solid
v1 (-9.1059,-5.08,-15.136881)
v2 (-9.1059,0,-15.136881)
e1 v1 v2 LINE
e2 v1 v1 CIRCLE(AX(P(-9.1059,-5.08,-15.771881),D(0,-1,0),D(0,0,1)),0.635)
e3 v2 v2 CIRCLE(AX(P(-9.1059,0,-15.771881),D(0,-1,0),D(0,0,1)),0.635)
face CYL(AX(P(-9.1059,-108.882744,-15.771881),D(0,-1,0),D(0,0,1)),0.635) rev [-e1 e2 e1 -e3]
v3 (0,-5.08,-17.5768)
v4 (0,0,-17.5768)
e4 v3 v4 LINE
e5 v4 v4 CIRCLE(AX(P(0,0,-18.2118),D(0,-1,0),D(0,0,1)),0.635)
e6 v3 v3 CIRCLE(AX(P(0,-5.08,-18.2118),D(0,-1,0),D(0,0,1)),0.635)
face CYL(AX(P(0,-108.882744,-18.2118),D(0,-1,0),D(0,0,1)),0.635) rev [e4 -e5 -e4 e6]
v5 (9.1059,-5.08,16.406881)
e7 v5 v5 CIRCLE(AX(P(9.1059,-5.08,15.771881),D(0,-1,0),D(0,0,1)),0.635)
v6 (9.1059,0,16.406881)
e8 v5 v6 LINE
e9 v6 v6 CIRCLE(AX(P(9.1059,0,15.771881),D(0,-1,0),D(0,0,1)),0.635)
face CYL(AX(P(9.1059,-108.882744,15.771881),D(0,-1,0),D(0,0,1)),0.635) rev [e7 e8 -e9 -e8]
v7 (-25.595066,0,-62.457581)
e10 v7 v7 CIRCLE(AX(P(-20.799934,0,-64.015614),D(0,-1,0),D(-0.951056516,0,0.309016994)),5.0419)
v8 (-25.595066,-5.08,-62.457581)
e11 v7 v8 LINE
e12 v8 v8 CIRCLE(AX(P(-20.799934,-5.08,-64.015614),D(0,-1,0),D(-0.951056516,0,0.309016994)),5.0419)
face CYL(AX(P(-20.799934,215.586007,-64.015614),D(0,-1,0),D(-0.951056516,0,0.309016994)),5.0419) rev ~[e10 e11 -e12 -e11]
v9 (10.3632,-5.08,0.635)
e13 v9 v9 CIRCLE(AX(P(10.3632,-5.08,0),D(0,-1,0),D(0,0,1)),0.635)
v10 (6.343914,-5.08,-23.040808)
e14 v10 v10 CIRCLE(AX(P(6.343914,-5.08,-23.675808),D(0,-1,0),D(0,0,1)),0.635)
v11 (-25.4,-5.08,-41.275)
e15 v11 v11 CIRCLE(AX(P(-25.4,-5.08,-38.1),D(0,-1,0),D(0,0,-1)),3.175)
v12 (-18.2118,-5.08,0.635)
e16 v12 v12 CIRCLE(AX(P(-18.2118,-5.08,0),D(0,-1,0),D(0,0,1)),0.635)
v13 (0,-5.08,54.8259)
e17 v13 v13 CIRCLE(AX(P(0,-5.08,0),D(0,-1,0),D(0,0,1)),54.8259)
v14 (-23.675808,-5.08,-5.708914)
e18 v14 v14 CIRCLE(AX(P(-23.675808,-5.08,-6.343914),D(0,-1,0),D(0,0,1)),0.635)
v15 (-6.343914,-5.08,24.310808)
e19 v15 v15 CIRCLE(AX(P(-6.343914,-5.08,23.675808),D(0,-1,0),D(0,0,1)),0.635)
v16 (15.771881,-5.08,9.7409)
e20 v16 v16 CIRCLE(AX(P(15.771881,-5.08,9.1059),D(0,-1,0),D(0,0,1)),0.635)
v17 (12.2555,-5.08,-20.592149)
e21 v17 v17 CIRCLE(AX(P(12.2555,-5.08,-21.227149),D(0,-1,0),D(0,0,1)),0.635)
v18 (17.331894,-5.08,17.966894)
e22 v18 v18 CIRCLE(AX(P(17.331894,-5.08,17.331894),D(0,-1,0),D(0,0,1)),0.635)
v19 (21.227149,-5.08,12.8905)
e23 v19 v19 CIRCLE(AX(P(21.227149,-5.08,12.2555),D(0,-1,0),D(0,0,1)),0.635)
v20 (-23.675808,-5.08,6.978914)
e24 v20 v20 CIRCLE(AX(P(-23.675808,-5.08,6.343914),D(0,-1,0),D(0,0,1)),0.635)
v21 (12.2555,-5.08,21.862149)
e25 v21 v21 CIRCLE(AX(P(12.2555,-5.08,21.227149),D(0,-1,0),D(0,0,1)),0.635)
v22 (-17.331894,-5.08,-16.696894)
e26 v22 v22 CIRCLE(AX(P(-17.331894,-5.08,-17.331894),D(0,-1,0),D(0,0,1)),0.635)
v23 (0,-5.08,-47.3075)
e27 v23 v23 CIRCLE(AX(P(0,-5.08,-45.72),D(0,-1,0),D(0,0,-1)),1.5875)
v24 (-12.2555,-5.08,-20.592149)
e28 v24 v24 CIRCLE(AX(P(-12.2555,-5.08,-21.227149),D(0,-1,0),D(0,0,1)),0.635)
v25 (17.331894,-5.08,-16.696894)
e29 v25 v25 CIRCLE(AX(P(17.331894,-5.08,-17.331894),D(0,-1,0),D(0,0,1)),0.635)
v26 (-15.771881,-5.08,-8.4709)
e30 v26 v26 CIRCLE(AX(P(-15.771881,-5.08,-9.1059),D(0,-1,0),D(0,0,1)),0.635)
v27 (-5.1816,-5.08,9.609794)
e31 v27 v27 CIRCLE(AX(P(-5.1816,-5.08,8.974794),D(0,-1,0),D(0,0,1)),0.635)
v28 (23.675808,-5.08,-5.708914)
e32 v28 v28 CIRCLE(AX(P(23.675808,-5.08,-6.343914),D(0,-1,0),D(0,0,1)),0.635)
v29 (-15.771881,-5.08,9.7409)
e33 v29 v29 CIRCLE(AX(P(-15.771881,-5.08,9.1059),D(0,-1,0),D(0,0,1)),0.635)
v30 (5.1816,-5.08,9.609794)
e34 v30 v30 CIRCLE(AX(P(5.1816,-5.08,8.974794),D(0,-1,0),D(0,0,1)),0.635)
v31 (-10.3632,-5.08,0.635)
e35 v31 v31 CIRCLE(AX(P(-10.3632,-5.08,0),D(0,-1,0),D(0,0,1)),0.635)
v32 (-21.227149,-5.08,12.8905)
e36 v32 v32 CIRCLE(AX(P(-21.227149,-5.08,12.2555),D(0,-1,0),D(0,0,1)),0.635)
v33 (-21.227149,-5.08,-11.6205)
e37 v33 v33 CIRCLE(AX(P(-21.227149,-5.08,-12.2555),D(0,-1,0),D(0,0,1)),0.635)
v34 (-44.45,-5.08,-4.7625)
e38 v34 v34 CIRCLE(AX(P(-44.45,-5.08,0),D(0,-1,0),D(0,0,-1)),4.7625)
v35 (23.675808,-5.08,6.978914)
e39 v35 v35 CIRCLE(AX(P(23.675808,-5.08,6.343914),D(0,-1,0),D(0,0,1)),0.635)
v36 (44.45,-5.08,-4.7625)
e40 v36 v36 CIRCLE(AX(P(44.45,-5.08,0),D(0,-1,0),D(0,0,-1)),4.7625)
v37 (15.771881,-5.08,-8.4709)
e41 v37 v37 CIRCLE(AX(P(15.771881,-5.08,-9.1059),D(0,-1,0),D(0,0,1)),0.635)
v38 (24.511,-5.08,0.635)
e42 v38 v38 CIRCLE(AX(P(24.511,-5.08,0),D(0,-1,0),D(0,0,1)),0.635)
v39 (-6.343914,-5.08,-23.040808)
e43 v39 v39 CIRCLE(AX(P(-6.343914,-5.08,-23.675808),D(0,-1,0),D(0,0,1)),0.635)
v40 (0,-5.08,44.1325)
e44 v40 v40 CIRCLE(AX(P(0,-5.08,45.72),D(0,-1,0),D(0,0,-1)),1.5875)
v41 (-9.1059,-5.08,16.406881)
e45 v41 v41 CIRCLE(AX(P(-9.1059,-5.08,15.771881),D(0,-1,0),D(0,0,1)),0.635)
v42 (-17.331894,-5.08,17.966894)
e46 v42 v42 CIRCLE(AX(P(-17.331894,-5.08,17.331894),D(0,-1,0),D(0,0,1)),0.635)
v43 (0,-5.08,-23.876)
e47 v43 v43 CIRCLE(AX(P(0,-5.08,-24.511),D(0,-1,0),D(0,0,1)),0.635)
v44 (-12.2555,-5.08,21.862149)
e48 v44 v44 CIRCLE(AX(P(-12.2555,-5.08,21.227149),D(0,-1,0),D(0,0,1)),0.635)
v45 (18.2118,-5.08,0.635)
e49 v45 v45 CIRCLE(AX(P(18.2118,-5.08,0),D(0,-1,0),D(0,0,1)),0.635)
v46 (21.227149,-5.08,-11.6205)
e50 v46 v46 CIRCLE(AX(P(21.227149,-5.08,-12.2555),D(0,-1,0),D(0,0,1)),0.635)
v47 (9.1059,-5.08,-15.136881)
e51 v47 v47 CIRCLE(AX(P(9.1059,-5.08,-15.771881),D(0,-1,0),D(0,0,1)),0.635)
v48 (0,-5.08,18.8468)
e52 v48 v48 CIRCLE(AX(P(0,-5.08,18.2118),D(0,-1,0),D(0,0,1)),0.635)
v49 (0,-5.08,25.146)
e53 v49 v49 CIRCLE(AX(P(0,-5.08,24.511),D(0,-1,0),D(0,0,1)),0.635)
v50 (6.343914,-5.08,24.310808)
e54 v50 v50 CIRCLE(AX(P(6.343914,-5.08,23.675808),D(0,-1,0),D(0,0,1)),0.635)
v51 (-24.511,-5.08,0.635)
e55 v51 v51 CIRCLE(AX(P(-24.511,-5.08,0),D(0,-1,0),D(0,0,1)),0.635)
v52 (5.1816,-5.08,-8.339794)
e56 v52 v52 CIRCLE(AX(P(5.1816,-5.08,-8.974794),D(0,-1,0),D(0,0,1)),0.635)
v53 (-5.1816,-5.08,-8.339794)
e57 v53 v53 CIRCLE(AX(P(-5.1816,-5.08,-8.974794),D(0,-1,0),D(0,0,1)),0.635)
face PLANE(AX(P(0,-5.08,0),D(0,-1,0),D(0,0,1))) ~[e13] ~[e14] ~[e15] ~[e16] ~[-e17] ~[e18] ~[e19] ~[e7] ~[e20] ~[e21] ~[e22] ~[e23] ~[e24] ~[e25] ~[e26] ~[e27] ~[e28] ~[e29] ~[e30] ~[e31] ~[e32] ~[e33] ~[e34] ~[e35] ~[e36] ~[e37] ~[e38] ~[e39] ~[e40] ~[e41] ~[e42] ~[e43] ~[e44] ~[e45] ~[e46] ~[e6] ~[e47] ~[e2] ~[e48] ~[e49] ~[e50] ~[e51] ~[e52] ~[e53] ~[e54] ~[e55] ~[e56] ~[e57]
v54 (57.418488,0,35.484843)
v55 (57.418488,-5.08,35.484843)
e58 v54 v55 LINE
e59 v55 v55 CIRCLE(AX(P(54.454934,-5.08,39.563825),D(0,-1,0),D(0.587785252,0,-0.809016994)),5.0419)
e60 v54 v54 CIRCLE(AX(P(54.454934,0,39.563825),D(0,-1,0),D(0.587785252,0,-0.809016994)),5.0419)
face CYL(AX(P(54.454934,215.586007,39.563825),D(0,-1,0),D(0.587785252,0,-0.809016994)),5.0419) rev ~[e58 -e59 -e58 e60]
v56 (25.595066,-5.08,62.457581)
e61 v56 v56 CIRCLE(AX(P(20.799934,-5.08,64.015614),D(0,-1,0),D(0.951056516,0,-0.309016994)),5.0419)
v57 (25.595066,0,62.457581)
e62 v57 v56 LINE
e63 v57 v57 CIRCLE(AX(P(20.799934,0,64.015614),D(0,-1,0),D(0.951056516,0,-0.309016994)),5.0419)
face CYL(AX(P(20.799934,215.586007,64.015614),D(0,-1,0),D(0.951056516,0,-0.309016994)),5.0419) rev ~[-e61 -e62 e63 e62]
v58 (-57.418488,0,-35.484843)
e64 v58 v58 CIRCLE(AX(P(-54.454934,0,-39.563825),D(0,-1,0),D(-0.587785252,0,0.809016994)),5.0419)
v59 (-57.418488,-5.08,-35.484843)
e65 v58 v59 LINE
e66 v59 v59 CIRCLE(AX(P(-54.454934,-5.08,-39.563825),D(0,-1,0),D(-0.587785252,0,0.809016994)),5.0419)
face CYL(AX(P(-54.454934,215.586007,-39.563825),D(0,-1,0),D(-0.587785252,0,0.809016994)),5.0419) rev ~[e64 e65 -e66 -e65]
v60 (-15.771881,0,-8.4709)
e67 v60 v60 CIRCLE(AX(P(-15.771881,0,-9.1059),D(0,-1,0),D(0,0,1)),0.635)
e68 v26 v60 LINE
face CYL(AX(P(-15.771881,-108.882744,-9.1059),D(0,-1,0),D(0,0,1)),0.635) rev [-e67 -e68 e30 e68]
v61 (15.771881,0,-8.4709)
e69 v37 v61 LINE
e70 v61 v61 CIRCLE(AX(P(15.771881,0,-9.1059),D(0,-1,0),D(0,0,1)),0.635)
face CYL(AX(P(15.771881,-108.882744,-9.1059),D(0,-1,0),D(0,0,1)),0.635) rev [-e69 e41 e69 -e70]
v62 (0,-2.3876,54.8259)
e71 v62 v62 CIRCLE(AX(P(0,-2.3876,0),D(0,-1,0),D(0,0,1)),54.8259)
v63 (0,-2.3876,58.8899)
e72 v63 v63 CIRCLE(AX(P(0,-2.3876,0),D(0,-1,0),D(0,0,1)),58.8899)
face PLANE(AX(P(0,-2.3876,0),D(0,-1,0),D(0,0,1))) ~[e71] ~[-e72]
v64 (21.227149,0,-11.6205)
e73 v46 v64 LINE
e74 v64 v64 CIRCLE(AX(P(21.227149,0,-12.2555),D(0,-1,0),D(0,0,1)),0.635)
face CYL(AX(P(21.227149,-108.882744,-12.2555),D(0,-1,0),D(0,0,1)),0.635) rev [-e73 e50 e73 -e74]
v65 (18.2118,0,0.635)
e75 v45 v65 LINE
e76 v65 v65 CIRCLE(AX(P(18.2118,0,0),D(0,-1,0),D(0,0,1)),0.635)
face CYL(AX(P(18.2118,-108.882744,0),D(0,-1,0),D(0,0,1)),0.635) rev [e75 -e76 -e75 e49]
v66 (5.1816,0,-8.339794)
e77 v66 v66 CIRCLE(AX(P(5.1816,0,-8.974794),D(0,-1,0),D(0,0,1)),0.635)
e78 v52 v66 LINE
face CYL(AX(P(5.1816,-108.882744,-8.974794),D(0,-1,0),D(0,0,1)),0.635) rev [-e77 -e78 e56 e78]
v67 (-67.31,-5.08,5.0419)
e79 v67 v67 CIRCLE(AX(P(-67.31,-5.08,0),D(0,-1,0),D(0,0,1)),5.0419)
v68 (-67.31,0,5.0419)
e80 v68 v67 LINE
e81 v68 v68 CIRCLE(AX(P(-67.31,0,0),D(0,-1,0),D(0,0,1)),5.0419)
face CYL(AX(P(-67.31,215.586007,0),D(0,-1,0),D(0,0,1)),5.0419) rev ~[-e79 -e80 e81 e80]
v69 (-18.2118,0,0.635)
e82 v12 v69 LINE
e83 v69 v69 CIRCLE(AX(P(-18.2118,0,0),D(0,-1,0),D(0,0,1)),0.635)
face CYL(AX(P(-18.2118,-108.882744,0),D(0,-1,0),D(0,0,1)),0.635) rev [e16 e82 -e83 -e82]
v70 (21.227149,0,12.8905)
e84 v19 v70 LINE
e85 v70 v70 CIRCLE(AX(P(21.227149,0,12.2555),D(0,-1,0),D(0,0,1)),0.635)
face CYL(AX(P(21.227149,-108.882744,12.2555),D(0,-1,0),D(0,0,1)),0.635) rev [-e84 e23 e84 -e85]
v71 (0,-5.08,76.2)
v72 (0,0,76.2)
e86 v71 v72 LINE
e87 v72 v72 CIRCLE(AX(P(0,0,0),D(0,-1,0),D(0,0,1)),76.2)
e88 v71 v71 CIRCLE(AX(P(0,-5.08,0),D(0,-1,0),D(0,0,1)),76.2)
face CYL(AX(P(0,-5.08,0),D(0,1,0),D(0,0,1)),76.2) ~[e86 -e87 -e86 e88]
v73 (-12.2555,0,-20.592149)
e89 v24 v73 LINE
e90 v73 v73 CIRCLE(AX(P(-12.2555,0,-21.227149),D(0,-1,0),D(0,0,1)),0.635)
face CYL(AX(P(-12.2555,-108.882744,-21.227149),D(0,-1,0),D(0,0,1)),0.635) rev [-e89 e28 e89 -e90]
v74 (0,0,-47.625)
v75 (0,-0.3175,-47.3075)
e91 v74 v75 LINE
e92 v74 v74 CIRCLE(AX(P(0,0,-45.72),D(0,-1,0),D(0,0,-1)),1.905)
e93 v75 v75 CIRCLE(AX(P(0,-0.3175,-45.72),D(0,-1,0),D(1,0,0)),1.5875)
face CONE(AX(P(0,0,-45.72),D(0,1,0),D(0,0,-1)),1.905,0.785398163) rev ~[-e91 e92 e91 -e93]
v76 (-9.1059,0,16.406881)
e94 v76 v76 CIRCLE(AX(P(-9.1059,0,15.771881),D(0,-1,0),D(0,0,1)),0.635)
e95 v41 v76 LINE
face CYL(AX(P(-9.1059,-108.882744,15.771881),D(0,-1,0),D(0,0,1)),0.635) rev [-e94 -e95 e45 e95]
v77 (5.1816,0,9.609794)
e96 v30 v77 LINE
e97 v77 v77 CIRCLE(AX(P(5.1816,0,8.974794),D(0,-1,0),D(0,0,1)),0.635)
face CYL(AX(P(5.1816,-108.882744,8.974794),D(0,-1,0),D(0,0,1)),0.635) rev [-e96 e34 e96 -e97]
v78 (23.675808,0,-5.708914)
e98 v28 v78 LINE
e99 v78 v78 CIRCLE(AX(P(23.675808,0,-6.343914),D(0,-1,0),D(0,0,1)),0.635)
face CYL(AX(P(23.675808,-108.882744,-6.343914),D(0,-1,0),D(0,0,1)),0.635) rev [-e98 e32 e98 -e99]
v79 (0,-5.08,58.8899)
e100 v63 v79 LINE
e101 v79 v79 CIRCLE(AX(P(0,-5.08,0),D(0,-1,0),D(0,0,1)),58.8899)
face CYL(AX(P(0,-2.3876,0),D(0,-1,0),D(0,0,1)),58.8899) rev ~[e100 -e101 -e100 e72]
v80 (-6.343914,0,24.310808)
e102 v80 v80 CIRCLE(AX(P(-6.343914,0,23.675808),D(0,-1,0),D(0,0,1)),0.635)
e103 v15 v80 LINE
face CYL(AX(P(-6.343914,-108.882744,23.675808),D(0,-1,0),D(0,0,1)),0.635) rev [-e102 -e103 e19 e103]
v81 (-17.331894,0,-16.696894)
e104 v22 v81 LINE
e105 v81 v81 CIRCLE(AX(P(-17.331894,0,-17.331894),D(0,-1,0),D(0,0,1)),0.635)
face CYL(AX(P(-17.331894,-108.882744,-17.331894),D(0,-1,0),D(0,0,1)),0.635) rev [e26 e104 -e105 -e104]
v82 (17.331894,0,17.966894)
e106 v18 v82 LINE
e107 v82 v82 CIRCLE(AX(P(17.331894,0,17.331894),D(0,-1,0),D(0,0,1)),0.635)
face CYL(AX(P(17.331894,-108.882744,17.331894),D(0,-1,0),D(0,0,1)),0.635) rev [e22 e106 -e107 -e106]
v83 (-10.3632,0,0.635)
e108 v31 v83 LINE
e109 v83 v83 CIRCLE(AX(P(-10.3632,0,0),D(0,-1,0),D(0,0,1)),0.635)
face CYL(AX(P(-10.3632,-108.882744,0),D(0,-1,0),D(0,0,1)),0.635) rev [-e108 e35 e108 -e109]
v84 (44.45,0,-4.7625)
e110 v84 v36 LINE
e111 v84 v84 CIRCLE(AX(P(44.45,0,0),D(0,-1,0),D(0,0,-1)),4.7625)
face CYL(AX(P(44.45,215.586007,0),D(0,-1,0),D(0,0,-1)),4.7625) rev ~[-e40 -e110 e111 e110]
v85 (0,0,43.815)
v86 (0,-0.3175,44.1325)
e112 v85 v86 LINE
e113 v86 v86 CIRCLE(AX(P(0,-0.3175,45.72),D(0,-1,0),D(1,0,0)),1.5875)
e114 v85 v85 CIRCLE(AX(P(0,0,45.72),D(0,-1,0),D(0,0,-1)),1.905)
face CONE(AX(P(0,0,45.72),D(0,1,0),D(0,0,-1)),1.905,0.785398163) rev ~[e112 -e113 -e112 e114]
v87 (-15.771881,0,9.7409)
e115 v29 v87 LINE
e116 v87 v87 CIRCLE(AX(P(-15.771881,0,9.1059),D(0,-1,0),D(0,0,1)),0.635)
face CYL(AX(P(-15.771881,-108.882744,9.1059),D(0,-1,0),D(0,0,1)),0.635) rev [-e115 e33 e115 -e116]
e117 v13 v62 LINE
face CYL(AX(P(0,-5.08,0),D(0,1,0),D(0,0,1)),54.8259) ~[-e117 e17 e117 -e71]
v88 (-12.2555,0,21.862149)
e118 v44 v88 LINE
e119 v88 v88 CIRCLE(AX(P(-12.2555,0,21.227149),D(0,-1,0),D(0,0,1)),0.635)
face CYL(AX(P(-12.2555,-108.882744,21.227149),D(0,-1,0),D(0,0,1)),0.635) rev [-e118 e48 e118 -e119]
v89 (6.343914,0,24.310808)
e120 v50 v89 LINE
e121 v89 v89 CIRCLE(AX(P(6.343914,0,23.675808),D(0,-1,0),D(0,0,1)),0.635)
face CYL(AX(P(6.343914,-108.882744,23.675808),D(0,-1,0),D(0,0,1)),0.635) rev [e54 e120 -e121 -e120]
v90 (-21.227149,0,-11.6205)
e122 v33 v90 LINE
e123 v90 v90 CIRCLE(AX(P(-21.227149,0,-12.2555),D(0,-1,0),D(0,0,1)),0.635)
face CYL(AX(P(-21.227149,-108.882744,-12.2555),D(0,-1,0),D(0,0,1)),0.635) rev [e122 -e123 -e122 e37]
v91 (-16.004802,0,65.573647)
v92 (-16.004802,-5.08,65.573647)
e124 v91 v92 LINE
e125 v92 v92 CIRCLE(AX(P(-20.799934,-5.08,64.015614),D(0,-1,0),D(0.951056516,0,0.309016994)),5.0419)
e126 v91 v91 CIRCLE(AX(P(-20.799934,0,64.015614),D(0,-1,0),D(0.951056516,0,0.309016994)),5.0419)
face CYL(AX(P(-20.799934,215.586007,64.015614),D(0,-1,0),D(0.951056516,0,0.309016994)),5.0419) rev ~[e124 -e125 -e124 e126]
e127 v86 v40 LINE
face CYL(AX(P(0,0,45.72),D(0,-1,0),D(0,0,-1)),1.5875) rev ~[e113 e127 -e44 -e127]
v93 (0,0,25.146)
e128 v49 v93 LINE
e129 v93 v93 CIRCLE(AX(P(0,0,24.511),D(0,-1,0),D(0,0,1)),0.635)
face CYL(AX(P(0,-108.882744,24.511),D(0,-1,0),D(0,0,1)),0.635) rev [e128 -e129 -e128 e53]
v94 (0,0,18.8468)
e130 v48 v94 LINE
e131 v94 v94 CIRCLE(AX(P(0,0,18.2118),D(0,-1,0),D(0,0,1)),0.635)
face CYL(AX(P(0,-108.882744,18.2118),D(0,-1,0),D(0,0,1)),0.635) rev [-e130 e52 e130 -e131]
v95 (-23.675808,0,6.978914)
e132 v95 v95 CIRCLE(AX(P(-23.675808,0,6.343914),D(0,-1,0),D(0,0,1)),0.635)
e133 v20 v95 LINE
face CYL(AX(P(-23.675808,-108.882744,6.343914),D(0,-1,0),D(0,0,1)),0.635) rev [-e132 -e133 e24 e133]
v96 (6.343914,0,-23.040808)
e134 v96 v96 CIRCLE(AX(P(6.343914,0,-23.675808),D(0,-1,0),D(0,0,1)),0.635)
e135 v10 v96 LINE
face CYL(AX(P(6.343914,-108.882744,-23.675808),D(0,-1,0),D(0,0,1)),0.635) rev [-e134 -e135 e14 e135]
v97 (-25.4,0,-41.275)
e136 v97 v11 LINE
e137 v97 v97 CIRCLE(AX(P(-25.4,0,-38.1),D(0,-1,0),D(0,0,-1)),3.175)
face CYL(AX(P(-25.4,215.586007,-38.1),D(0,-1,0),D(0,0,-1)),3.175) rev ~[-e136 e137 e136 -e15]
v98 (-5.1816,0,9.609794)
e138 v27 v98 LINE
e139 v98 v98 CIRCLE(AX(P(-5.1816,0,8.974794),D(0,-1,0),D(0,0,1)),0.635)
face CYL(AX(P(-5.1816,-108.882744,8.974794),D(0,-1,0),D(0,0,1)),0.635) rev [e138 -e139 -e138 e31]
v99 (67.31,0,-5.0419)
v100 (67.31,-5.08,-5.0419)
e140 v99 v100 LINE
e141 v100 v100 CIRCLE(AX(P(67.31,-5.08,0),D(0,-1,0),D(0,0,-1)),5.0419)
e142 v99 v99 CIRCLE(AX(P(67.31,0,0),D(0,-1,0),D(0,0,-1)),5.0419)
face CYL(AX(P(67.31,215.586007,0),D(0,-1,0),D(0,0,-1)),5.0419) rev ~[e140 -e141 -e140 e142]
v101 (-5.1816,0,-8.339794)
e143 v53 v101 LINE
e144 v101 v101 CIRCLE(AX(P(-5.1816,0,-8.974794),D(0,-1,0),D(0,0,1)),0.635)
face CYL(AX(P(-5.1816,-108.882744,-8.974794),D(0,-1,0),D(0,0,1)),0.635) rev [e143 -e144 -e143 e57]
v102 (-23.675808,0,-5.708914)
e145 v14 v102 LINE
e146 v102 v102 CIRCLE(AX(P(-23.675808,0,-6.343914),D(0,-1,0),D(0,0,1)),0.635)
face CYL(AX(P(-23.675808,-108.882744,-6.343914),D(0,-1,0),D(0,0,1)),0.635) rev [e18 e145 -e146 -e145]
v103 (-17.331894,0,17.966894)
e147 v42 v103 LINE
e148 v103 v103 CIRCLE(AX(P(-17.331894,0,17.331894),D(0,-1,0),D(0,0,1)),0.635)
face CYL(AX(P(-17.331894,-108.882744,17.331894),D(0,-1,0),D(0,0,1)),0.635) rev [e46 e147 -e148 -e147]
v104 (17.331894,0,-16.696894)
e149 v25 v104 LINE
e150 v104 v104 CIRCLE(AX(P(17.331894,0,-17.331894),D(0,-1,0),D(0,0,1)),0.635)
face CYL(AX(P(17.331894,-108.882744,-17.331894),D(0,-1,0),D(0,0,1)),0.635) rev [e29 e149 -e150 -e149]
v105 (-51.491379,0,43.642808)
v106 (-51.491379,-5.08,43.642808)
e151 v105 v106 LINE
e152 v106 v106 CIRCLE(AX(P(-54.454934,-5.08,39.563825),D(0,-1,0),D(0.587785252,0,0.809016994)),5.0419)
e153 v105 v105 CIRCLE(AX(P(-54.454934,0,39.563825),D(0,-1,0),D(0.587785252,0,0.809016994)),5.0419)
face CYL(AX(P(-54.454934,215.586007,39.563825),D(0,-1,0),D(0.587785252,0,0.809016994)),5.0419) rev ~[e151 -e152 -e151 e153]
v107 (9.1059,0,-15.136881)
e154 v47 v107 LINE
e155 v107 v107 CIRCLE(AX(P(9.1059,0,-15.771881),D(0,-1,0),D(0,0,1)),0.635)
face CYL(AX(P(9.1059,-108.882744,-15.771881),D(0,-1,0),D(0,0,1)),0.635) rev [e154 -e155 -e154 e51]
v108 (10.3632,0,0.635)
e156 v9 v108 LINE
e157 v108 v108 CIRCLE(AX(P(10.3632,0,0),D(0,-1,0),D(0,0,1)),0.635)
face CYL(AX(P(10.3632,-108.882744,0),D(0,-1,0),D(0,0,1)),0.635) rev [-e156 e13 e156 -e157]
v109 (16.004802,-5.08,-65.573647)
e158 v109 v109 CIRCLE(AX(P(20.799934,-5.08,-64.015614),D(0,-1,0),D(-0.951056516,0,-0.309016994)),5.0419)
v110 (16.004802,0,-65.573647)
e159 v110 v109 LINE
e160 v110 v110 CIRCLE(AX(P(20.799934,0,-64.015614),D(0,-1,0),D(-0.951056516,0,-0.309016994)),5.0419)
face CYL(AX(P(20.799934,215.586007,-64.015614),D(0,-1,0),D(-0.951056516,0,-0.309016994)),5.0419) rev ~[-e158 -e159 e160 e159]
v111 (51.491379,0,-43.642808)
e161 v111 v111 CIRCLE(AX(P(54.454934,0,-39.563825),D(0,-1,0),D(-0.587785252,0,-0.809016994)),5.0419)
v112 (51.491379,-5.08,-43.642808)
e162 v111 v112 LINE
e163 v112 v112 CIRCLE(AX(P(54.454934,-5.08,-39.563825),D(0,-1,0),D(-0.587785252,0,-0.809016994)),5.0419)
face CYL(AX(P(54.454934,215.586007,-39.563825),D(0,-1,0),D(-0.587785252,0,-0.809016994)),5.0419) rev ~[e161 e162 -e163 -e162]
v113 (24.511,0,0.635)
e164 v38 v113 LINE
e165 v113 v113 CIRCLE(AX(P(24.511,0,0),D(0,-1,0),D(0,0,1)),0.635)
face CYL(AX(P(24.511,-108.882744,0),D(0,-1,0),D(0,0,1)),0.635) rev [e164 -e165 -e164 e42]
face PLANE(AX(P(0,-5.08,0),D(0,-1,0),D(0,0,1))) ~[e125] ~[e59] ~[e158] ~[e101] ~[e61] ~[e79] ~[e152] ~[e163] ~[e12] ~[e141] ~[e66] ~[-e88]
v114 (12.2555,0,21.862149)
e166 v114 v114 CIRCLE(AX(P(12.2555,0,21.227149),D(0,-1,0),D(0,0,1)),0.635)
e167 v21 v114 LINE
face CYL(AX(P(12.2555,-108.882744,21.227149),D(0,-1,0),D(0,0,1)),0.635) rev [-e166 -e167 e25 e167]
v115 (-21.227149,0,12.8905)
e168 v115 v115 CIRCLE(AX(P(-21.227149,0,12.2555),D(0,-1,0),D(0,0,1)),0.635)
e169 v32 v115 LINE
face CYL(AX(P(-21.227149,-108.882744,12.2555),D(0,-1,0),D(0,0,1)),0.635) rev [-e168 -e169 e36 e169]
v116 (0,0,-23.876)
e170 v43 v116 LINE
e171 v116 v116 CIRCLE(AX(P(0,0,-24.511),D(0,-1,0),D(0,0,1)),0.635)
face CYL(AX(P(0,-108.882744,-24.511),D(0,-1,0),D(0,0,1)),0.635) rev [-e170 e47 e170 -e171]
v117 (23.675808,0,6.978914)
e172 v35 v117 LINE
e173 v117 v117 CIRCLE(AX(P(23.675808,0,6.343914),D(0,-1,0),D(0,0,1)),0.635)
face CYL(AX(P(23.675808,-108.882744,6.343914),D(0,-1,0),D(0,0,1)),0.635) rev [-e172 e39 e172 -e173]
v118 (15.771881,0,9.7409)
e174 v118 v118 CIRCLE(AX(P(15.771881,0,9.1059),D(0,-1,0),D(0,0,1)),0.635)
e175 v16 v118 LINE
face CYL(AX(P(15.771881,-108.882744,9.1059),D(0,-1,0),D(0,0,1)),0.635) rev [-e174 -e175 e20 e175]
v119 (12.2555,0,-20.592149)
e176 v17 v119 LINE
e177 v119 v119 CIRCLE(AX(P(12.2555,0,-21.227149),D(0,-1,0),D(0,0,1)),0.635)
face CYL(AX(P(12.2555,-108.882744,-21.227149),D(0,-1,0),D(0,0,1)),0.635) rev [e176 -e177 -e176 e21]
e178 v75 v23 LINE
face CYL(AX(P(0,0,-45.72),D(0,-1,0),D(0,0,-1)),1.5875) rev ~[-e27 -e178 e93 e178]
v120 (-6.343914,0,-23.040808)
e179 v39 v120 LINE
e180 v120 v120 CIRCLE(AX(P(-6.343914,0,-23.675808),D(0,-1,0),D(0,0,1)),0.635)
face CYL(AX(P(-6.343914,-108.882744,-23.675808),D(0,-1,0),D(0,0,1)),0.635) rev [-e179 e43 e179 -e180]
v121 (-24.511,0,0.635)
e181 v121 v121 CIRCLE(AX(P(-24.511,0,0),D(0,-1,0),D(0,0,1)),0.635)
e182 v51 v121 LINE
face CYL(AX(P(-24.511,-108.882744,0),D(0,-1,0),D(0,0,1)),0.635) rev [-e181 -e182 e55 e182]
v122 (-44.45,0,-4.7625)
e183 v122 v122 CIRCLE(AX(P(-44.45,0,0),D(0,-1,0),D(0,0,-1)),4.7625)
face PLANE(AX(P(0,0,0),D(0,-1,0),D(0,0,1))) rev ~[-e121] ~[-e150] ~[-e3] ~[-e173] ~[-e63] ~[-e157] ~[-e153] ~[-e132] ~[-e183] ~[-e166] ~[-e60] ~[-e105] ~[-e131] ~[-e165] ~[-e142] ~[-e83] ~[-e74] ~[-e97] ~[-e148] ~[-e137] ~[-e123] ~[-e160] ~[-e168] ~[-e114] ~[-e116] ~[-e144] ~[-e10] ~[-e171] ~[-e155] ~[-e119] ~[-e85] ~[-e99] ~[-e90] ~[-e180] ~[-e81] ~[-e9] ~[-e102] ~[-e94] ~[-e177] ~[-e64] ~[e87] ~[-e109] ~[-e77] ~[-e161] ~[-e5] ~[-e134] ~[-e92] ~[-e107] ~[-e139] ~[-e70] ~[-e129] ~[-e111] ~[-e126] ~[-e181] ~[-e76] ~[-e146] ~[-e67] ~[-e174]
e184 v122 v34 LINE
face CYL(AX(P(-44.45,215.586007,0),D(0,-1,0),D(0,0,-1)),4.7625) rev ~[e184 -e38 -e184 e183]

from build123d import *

# Parameters (mm, degrees)
F_3_8_CLEARANCE_HOLE1_D                = 10.0838
CIRPATTERN1_COUNT                      = 10
F_3_8_0_375_DIAMETER_HOLE1_D           = 9.525
F_1_4_0_25_DIAMETER_HOLE1_D            = 6.35
CUT_EXTRUDE1_DEPTH                     = 108.882743755
CUT_EXTRUDE1_DEPTH_BACK                = 108.882743755
SKETCH7_R                              = 0.635
F_1_8_0_125_DIAMETER_HOLE1_D           = 3.175
F_1_8_0_125_DIAMETER_HOLE1_CSINK_D     = 3.81
F_1_8_0_125_DIAMETER_HOLE1_CSINK_ANGLE = 90


with BuildPart() as part:
    # Sketch1 → Revolve1 (revolve)
    with BuildSketch(Plane.XY, mode=Mode.PRIVATE) as revolve1_sk:
        Polygon((0, 0), (0, -5.08), (54.8259, -5.08), (54.8259, -2.3876), (58.8899, -2.3876), (58.8899, -5.08), (76.2, -5.08), (76.2, 0), align=None)
    revolve(revolve1_sk.sketch.rotate(Axis((0, 0, 0), (0, -1, 0)), 90), axis=Axis((0, 0, 0), (0, -1, 0)))

    # 3/8 Clearance Hole1 (through all)
    with Locations(Plane(origin=(67.31, 0, 0), x_dir=(0, 0, 1), z_dir=(0, 1, 0))):
        with Locations((0, 0)):
            f_3_8_clearance_hole1 = Hole(F_3_8_CLEARANCE_HOLE1_D / 2)

    # CirPattern1: 3/8 Clearance Hole1 ×10 about axis
    cirpattern1_axis = Axis((0, 0, 0), (0, 1, 0))
    for i in range(1, CIRPATTERN1_COUNT):
        add(f_3_8_clearance_hole1.rotate(cirpattern1_axis, i * 360 / CIRPATTERN1_COUNT), mode=Mode.SUBTRACT)

    # 3/8 (0.375) Diameter Hole1 (through all)
    with Locations(Plane(origin=(44.45, 0, 0), x_dir=(0, 0, 1), z_dir=(0, 1, 0))):
        with Locations((0, 0), (0, -88.9)):
            Hole(F_3_8_0_375_DIAMETER_HOLE1_D / 2)

    # 1/4 (0.25) Diameter Hole1 (through all)
    with Locations(Plane(origin=(-25.4, 0, -38.1), x_dir=(0, 0, 1), z_dir=(0, 1, 0))):
        with Locations((0, 0)):
            Hole(F_1_4_0_25_DIAMETER_HOLE1_D / 2)

    # Sketch7 → Cut-Extrude1 (cut, two sides: drawn at the far end of the back side and taken through both)
    with BuildSketch(Plane(origin=(0, 0, 0), x_dir=(1, 0, 0), z_dir=(0, 1, 0)).offset(-CUT_EXTRUDE1_DEPTH_BACK)):
        with Locations(Location((10.3632, 0, 0), (0, 0, 270))):
            Circle(SKETCH7_R)
        with Locations(Location((18.2118, 0, 0), (0, 0, 270))):
            Circle(SKETCH7_R)
        with Locations(Location((24.511, 0, 0), (0, 0, 270))):
            Circle(SKETCH7_R)
        with Locations(Location((5.1816, -8.974794464, 0), (0, 0, 270))):
            Circle(SKETCH7_R)
        with Locations(Location((-5.1816, -8.974794464, 0), (0, 0, 270))):
            Circle(SKETCH7_R)
        with Locations(Location((-10.3632, 0, 0), (0, 0, 270))):
            Circle(SKETCH7_R)
        with Locations(Location((-5.1816, 8.974794464, 0), (0, 0, 270))):
            Circle(SKETCH7_R)
        with Locations(Location((5.1816, 8.974794464, 0), (0, 0, 270))):
            Circle(SKETCH7_R)
        with Locations(Location((15.771881449, -9.1059, 0), (0, 0, 270))):
            Circle(SKETCH7_R)
        with Locations(Location((9.1059, -15.771881449, 0), (0, 0, 270))):
            Circle(SKETCH7_R)
        with Locations(Location((0, -18.2118, 0), (0, 0, 270))):
            Circle(SKETCH7_R)
        with Locations(Location((-9.1059, -15.771881449, 0), (0, 0, 270))):
            Circle(SKETCH7_R)
        with Locations(Location((-15.771881449, -9.1059, 0), (0, 0, 270))):
            Circle(SKETCH7_R)
        with Locations(Location((-18.2118, 0, 0), (0, 0, 270))):
            Circle(SKETCH7_R)
        with Locations(Location((-15.771881449, 9.1059, 0), (0, 0, 270))):
            Circle(SKETCH7_R)
        with Locations(Location((-9.1059, 15.771881449, 0), (0, 0, 270))):
            Circle(SKETCH7_R)
        with Locations(Location((0, 18.2118, 0), (0, 0, 270))):
            Circle(SKETCH7_R)
        with Locations(Location((9.1059, 15.771881449, 0), (0, 0, 270))):
            Circle(SKETCH7_R)
        with Locations(Location((15.771881449, 9.1059, 0), (0, 0, 270))):
            Circle(SKETCH7_R)
        with Locations(Location((23.675807928, -6.343913615, 0), (0, 0, 270))):
            Circle(SKETCH7_R)
        with Locations(Location((21.227148672, -12.2555, 0), (0, 0, 270))):
            Circle(SKETCH7_R)
        with Locations(Location((17.331894314, -17.331894314, 0), (0, 0, 270))):
            Circle(SKETCH7_R)
        with Locations(Location((12.2555, -21.227148672, 0), (0, 0, 270))):
            Circle(SKETCH7_R)
        with Locations(Location((6.343913615, -23.675807928, 0), (0, 0, 270))):
            Circle(SKETCH7_R)
        with Locations(Location((0, -24.511, 0), (0, 0, 270))):
            Circle(SKETCH7_R)
        with Locations(Location((-6.343913615, -23.675807928, 0), (0, 0, 270))):
            Circle(SKETCH7_R)
        with Locations(Location((-12.2555, -21.227148672, 0), (0, 0, 270))):
            Circle(SKETCH7_R)
        with Locations(Location((-17.331894314, -17.331894314, 0), (0, 0, 270))):
            Circle(SKETCH7_R)
        with Locations(Location((-21.227148672, -12.2555, 0), (0, 0, 270))):
            Circle(SKETCH7_R)
        with Locations(Location((-23.675807928, -6.343913615, 0), (0, 0, 270))):
            Circle(SKETCH7_R)
        with Locations(Location((-24.511, 0, 0), (0, 0, 270))):
            Circle(SKETCH7_R)
        with Locations(Location((-23.675807928, 6.343913615, 0), (0, 0, 270))):
            Circle(SKETCH7_R)
        with Locations(Location((-21.227148672, 12.2555, 0), (0, 0, 270))):
            Circle(SKETCH7_R)
        with Locations(Location((-17.331894314, 17.331894314, 0), (0, 0, 270))):
            Circle(SKETCH7_R)
        with Locations(Location((-12.2555, 21.227148672, 0), (0, 0, 270))):
            Circle(SKETCH7_R)
        with Locations(Location((-6.343913615, 23.675807928, 0), (0, 0, 270))):
            Circle(SKETCH7_R)
        with Locations(Location((0, 24.511, 0), (0, 0, 270))):
            Circle(SKETCH7_R)
        with Locations(Location((6.343913615, 23.675807928, 0), (0, 0, 270))):
            Circle(SKETCH7_R)
        with Locations(Location((12.2555, 21.227148672, 0), (0, 0, 270))):
            Circle(SKETCH7_R)
        with Locations(Location((17.331894314, 17.331894314, 0), (0, 0, 270))):
            Circle(SKETCH7_R)
        with Locations(Location((21.227148672, 12.2555, 0), (0, 0, 270))):
            Circle(SKETCH7_R)
        with Locations(Location((23.675807928, 6.343913615, 0), (0, 0, 270))):
            Circle(SKETCH7_R)
    extrude(amount=CUT_EXTRUDE1_DEPTH + CUT_EXTRUDE1_DEPTH_BACK, mode=Mode.SUBTRACT)

    # 1/8 (0.125) Diameter Hole1 (through all)
    with Locations(Plane(origin=(0, 0, 45.72), x_dir=(0, 0, 1), z_dir=(0, 1, 0))):
        with Locations((0, 0), (-91.44, 0)):
            CounterSinkHole(F_1_8_0_125_DIAMETER_HOLE1_D / 2, F_1_8_0_125_DIAMETER_HOLE1_CSINK_D / 2, counter_sink_angle=F_1_8_0_125_DIAMETER_HOLE1_CSINK_ANGLE)


solid = part.part
